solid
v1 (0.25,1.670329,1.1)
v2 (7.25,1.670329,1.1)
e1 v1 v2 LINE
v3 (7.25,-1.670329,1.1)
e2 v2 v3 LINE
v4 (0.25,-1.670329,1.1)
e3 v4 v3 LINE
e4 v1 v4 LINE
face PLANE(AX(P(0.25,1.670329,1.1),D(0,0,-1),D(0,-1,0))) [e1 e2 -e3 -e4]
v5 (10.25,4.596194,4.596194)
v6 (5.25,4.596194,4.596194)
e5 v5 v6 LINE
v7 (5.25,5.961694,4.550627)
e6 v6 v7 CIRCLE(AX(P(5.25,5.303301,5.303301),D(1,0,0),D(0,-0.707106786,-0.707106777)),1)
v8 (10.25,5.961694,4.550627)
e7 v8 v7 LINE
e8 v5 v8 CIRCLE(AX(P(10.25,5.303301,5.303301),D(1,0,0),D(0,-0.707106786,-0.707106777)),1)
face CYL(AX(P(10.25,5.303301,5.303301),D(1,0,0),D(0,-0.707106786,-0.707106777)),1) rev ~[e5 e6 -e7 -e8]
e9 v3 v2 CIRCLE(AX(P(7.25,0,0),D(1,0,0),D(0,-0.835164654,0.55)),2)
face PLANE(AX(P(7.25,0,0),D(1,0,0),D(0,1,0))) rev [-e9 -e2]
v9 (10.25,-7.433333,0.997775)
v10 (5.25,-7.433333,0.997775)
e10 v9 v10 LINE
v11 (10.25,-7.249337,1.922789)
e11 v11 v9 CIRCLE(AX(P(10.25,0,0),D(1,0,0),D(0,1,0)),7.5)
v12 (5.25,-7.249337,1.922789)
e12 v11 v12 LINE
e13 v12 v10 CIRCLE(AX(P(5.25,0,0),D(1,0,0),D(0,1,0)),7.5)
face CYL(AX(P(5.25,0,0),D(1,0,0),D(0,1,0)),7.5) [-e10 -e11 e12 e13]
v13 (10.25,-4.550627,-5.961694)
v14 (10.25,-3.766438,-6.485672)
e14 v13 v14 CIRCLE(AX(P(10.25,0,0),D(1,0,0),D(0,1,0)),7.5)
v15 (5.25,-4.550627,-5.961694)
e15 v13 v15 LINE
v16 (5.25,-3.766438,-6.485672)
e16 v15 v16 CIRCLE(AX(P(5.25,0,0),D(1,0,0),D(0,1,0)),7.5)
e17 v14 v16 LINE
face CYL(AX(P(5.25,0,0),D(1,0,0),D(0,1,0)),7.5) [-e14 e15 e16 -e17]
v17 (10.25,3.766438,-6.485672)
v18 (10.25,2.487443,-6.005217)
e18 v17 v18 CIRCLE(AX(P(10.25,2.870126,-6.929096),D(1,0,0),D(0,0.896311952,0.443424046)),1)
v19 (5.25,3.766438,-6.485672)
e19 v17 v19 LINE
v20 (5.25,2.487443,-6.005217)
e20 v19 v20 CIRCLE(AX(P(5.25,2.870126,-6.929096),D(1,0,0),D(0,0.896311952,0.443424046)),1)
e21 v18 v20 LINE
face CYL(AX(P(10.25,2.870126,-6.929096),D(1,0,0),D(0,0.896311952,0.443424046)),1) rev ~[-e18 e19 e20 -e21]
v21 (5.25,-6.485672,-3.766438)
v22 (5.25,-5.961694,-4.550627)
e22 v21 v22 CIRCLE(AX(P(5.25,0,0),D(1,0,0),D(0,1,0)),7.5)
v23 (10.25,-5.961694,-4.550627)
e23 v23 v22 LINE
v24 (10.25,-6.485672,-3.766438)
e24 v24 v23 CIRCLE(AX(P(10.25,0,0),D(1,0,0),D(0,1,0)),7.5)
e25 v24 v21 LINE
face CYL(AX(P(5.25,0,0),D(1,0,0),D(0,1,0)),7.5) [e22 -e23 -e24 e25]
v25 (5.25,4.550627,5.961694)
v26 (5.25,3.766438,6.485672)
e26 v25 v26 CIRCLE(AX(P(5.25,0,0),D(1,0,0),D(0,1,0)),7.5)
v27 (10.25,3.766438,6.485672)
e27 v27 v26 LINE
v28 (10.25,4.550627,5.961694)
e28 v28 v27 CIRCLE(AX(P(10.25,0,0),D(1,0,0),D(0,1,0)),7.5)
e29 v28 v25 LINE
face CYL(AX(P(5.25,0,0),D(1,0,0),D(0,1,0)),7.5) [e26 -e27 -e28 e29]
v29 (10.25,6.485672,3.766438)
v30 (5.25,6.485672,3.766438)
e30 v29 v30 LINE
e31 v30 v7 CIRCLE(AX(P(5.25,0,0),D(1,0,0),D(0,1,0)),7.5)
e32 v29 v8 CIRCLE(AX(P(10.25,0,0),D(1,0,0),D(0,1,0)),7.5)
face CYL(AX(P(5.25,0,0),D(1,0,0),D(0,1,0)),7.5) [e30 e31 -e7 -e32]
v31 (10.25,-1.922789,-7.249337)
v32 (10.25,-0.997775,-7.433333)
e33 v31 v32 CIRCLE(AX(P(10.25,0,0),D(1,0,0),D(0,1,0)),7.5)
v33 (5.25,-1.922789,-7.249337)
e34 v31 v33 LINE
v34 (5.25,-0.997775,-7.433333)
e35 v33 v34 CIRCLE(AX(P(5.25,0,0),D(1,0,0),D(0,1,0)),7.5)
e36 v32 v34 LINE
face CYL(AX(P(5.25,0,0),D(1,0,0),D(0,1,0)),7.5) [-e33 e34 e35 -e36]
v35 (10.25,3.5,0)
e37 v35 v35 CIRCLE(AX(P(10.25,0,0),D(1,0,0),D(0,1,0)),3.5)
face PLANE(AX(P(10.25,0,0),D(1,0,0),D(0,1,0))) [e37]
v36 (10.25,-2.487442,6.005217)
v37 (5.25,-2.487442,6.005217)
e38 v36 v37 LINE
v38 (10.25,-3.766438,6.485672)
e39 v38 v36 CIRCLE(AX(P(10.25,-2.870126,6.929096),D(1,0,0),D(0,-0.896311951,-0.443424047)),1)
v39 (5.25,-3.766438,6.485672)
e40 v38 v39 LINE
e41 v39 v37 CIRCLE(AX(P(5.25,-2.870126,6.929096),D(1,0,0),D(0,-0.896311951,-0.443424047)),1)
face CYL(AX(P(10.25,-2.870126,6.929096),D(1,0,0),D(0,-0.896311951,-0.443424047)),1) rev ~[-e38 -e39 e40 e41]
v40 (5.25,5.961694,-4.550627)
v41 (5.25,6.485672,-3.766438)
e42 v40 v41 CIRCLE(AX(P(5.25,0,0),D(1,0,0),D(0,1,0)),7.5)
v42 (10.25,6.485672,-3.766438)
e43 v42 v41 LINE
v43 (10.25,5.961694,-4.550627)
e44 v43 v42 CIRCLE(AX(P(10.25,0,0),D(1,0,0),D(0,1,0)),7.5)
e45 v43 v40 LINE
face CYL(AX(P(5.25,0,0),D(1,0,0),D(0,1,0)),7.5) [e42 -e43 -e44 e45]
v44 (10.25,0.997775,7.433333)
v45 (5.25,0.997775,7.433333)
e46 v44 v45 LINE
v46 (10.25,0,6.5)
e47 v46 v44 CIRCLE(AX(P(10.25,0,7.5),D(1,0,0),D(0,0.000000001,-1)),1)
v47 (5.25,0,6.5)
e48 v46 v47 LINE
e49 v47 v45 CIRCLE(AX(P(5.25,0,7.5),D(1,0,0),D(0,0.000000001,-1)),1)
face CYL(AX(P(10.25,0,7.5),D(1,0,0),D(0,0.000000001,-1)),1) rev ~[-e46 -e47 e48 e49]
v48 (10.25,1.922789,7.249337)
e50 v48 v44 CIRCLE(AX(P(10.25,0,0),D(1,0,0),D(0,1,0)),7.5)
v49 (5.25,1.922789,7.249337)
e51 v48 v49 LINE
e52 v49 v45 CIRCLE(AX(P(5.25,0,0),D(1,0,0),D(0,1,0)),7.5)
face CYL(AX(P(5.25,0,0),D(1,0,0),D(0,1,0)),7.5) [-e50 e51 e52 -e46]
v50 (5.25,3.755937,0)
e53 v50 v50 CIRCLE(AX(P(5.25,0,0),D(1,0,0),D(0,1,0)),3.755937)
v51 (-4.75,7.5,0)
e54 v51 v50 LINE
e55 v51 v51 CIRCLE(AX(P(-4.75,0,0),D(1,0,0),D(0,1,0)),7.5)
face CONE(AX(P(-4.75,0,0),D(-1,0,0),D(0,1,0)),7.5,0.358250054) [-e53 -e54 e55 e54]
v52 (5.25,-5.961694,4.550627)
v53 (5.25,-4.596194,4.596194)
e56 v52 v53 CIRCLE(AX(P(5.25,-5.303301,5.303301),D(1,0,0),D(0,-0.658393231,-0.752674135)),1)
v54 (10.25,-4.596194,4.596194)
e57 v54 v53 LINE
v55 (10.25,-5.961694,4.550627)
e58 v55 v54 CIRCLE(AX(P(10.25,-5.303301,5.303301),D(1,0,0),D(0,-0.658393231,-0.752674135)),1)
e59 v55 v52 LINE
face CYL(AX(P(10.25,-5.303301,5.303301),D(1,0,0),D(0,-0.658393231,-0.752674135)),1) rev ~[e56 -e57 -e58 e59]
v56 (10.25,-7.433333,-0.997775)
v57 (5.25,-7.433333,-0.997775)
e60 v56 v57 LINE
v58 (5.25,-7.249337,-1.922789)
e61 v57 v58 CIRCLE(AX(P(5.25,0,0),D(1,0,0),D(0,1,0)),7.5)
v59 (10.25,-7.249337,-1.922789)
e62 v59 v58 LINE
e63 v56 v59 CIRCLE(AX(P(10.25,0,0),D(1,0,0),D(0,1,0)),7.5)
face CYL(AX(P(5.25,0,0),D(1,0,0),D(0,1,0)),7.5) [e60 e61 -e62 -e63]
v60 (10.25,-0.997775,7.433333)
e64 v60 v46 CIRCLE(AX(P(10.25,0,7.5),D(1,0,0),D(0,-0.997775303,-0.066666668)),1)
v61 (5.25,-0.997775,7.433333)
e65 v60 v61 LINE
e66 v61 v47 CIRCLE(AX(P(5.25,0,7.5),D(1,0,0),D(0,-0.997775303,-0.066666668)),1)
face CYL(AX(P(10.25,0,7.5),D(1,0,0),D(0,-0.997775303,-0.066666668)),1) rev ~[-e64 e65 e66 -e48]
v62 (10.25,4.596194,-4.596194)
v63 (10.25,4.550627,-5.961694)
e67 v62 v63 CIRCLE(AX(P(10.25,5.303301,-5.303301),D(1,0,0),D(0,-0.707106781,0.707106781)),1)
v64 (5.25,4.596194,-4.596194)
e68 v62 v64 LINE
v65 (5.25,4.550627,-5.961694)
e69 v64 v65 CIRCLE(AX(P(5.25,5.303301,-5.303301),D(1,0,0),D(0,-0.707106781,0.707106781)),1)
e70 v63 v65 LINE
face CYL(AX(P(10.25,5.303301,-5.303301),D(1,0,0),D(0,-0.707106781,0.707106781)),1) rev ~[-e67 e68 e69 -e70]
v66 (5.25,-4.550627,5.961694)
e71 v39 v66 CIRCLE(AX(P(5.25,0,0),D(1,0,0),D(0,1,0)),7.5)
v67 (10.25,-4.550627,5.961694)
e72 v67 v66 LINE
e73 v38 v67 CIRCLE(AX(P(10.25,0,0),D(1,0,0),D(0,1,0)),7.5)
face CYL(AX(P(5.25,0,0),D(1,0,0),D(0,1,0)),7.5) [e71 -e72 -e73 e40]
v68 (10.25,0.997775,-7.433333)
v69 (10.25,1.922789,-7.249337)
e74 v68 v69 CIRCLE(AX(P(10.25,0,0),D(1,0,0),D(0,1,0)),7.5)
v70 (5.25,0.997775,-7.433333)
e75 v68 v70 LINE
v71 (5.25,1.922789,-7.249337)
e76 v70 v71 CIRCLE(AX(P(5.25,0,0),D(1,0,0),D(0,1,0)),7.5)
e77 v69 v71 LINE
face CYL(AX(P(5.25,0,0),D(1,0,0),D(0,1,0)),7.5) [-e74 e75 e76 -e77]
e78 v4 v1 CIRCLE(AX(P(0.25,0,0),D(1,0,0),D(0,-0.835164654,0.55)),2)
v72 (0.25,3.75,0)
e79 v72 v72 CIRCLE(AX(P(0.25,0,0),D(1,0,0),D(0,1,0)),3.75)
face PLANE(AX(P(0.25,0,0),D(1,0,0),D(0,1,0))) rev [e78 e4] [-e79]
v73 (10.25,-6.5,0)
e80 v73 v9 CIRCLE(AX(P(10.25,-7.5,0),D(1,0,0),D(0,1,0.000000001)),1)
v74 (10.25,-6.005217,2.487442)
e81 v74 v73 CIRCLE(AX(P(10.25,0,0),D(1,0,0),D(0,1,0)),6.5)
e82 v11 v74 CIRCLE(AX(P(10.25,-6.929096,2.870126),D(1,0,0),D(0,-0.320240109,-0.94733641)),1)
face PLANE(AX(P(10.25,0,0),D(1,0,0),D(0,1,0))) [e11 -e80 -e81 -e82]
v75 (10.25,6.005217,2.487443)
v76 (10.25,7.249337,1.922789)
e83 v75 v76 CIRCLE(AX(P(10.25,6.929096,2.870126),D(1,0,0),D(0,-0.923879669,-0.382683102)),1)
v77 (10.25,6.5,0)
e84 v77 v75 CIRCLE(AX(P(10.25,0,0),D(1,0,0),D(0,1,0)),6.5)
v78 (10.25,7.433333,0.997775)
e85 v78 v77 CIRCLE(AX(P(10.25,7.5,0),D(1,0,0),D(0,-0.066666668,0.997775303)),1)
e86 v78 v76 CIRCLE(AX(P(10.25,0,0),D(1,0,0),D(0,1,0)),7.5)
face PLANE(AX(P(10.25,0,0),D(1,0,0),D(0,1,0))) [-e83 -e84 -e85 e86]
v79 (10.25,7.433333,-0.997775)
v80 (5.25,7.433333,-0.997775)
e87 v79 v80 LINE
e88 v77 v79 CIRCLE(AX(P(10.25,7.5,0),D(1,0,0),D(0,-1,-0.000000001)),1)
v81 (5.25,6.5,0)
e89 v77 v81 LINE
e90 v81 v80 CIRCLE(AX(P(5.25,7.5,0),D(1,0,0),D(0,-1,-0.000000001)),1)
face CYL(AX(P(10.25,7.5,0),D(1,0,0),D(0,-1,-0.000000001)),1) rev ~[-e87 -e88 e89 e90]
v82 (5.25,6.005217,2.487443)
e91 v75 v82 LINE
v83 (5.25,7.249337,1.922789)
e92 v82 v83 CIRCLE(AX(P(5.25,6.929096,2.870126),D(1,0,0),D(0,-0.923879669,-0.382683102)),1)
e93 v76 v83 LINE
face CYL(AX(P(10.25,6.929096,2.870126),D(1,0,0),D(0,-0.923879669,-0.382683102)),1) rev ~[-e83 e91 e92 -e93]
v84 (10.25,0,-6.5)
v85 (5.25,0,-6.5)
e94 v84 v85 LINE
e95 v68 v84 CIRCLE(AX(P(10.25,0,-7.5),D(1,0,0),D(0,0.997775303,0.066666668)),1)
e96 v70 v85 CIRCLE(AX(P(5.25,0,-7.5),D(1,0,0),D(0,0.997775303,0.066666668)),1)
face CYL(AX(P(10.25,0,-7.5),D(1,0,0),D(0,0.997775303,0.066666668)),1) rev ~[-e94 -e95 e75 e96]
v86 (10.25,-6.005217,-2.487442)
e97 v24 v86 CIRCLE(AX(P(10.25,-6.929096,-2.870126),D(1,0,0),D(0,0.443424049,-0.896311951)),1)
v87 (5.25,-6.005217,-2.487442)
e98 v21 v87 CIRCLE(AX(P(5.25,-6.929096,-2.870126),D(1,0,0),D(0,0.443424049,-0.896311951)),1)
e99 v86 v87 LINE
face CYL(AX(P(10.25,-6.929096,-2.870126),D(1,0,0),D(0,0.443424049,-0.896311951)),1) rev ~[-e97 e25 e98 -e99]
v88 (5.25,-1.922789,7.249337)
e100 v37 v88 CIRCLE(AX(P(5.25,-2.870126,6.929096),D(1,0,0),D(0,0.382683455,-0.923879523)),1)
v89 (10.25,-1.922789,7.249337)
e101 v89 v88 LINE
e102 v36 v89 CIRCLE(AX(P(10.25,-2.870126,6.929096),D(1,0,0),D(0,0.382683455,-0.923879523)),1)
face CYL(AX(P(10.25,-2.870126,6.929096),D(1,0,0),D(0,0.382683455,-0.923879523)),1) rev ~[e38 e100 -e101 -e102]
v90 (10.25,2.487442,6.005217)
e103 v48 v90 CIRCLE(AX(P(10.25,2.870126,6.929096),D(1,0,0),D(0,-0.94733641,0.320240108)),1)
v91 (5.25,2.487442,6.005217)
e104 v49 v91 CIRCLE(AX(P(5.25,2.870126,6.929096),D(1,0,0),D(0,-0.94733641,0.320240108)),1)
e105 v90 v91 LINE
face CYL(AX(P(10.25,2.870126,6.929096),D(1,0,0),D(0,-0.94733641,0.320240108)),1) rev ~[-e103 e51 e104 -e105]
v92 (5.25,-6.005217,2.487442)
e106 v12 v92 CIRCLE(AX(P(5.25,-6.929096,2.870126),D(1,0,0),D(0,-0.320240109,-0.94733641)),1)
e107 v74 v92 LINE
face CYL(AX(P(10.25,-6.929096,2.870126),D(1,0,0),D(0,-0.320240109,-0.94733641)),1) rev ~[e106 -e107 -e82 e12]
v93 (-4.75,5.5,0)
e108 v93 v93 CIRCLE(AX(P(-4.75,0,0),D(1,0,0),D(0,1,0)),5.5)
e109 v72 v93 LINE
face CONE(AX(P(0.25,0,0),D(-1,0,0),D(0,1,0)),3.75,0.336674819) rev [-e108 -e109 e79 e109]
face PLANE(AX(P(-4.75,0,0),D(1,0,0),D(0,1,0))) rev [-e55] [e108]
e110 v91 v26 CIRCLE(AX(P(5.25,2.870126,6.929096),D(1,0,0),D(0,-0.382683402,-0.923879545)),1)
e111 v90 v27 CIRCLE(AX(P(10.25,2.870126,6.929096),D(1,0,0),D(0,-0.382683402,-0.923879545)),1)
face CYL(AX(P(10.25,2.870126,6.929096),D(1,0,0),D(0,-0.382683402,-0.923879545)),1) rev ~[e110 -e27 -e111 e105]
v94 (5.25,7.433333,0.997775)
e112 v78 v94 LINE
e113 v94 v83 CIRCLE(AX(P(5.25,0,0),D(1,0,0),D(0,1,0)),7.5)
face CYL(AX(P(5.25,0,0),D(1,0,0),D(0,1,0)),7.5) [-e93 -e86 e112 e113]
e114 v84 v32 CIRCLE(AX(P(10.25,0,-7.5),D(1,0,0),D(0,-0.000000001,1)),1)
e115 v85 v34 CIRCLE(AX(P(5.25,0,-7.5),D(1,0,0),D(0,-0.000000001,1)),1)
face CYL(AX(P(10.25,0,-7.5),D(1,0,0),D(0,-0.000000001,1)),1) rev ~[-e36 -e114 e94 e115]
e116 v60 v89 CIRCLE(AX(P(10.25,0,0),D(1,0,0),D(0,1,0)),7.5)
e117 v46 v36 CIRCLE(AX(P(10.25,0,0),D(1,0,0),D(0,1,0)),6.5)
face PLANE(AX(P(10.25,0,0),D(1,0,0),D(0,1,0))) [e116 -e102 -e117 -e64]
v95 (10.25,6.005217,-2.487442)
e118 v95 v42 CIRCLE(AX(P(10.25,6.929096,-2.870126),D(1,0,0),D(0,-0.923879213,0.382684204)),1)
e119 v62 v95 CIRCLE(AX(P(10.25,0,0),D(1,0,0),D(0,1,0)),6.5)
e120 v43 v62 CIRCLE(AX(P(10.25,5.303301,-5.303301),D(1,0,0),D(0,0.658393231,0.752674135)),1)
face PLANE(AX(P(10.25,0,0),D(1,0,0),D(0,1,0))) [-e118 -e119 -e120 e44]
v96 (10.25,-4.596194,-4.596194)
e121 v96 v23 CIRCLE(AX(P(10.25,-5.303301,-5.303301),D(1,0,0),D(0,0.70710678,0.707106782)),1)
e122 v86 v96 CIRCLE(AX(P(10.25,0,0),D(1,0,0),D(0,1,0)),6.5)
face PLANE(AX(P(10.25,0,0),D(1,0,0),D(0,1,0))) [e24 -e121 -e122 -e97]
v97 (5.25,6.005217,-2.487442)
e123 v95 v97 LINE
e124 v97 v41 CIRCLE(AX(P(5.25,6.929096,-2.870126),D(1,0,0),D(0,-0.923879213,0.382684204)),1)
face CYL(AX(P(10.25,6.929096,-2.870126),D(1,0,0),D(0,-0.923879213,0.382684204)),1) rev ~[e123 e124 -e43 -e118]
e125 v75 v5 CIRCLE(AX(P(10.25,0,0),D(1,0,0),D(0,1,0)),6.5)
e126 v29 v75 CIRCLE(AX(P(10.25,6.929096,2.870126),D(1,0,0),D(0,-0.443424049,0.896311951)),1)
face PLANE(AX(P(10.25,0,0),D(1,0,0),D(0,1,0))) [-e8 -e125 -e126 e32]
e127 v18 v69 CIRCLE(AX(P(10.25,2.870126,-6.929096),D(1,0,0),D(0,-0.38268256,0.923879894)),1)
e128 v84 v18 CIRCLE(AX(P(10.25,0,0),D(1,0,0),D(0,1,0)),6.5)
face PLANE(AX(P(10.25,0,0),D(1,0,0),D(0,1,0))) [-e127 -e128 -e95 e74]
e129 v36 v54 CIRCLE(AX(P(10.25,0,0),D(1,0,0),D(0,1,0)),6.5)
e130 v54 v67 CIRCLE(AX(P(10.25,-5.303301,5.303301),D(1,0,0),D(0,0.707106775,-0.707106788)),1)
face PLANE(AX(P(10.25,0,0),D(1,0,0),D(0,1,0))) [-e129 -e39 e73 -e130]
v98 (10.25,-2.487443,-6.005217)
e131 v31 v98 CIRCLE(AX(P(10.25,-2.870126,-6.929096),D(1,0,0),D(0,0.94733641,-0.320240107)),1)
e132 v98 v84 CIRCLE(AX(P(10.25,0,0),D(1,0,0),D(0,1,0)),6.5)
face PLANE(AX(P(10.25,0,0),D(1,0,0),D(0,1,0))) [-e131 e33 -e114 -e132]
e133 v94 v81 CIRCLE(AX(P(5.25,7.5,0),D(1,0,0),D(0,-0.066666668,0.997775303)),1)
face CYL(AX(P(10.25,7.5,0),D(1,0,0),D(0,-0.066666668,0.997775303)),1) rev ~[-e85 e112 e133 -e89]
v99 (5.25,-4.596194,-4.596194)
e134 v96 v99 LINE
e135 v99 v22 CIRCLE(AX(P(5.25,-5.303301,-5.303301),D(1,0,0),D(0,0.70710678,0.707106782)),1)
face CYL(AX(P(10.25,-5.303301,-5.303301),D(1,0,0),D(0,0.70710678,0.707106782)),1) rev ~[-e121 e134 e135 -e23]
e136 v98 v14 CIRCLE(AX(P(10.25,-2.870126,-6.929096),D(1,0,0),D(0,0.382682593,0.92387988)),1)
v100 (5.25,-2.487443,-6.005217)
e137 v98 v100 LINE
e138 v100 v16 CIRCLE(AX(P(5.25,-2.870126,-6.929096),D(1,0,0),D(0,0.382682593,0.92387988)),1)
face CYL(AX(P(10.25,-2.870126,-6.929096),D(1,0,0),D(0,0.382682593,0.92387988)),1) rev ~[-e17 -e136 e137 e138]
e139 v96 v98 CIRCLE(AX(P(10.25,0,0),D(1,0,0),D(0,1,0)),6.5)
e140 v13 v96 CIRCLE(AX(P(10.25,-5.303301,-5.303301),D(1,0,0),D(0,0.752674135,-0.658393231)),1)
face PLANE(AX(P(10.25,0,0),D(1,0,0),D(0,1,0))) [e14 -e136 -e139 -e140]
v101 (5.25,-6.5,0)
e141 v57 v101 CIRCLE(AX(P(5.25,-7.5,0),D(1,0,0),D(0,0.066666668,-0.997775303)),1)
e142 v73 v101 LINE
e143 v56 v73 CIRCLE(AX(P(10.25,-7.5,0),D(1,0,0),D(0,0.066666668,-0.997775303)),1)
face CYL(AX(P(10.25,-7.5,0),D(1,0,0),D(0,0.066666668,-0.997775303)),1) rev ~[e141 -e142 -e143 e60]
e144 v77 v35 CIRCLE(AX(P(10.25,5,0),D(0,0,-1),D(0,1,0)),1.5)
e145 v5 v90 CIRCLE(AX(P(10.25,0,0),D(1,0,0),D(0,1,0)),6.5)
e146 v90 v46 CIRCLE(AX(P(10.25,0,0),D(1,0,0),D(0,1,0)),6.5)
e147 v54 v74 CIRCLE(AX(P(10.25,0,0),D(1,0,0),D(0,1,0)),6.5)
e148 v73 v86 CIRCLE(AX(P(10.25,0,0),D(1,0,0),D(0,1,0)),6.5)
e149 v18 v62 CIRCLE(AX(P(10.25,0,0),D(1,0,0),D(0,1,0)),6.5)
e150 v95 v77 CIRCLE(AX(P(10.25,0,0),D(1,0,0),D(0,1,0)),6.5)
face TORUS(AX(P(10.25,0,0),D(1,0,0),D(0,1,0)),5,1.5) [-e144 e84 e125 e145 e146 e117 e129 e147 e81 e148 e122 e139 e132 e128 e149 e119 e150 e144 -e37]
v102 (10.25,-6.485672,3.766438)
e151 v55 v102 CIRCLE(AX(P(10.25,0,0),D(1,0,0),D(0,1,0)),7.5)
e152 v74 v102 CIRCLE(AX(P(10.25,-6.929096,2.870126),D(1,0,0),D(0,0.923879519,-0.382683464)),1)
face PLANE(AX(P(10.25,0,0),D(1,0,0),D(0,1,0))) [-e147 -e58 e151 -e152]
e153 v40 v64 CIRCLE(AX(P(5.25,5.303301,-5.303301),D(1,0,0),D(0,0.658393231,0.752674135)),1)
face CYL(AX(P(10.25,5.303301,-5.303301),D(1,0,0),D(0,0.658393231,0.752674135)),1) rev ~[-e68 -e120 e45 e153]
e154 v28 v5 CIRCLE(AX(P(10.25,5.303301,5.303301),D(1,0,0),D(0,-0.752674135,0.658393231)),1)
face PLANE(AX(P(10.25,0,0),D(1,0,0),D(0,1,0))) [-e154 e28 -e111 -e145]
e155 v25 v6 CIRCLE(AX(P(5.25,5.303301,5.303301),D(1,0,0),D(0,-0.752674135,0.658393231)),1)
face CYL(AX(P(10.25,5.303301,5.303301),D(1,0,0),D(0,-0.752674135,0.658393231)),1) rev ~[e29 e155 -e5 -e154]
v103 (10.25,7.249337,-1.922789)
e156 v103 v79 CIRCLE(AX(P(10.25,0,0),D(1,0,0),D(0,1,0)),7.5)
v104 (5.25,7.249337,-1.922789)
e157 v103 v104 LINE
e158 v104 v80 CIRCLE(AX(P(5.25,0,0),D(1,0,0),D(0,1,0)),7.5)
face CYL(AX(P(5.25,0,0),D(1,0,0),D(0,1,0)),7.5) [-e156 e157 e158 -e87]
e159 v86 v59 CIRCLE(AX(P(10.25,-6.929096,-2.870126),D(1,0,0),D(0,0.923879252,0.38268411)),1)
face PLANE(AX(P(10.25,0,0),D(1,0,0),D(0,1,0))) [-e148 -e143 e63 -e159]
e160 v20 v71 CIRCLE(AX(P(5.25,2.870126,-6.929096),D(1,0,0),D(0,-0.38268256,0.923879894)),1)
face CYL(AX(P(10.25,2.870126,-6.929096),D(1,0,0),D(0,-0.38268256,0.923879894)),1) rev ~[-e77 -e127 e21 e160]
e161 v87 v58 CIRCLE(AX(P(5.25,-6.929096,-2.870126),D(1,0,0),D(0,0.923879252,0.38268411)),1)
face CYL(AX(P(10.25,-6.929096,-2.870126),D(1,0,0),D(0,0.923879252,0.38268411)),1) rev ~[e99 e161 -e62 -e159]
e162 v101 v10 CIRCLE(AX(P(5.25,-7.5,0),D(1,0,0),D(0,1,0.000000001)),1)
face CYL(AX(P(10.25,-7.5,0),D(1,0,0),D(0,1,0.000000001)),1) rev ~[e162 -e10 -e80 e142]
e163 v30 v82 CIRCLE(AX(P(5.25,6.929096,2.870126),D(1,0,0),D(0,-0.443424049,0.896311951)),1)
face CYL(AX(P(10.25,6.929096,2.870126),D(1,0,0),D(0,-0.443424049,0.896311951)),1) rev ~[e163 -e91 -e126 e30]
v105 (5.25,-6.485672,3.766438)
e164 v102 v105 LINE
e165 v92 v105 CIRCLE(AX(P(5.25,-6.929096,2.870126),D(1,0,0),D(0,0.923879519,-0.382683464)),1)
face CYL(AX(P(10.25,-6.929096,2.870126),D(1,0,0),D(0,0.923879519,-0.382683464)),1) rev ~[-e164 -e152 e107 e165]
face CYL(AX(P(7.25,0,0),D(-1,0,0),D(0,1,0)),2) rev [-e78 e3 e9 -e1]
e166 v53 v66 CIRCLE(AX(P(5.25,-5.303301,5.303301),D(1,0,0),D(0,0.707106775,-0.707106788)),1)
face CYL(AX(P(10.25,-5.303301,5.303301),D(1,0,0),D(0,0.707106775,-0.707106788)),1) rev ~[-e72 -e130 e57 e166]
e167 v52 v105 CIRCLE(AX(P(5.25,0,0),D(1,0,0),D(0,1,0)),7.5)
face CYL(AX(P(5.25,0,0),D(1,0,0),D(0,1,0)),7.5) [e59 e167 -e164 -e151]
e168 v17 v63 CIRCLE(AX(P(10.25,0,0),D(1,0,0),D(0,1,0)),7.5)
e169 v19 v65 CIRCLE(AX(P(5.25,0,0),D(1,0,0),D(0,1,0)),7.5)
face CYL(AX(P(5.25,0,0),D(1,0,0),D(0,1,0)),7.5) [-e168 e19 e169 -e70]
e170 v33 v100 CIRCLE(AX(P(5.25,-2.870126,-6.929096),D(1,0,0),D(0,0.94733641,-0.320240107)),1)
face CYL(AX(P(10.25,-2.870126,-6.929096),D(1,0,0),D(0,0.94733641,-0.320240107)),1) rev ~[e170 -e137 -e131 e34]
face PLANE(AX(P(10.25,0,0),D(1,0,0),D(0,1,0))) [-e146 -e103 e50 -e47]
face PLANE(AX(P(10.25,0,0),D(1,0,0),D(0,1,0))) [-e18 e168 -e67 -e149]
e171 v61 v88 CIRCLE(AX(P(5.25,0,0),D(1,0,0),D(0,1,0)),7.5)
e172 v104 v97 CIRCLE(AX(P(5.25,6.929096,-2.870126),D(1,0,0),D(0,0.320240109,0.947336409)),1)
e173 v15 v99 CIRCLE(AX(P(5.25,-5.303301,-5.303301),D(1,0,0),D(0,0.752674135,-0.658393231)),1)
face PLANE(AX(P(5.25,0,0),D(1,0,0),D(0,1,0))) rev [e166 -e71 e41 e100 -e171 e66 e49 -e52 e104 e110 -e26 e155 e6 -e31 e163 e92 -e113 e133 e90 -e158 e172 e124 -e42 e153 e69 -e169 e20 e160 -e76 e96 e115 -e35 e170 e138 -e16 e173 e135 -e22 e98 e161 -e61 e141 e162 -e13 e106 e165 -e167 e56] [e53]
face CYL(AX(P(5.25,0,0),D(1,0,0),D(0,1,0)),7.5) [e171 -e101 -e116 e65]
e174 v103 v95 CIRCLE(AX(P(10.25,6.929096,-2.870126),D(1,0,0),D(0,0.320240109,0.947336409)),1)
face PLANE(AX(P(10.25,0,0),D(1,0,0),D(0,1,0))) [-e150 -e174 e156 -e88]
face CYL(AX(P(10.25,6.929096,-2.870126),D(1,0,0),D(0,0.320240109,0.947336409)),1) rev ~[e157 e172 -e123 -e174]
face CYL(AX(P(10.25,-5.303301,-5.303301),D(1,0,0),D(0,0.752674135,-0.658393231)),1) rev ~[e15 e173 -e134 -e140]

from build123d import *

# Parameters (mm, degrees)
BOSS_EXTRUDE1_DEPTH = 7
CUT_EXTRUDE1_DEPTH  = 5


with BuildPart() as part:
    # Sketch1 → Revolve1 (revolve)
    with BuildSketch(Plane.XY):
        with BuildLine():
            Line((-4.75, 5.5), (-4.75, 7.5))
            Line((-4.75, 7.5), (5.25, 3.755937126))
            Line((5.25, 3.755937126), (5.25, 7.5))
            Line((5.25, 7.5), (10.25, 7.5))
            Line((10.25, 7.5), (10.25, 6.5))
            ThreePointArc((10.25, 6.5), (11.75, 5), (10.25, 3.5))
            Line((10.25, 3.5), (10.25, 2.5))
            Line((10.25, 2.5), (10.25, 0))
            Line((10.25, 0), (7.25, 0))
            Line((7.25, 0), (7.25, 2))
            Line((7.25, 2), (0.25, 2))
            Line((0.25, 2), (0.25, 3.75))
            Line((0.25, 3.75), (-4.75, 5.5))
        make_face()
    revolve(axis=Axis((-16.375, 0, 0), (1, 0, 0)))

    # Sketch2 → Boss-Extrude1 (add)
    with BuildSketch(Plane.ZY.offset(-0.25)):
        with BuildLine():
            Line((1.1, 1.670329309), (1.1, -1.670329309))
            ThreePointArc((1.1, -1.670329309), (2, 0), (1.1, 1.670329309))
        make_face()
    extrude(amount=-BOSS_EXTRUDE1_DEPTH)

    # Sketch3 → Cut-Extrude1 (cut)
    with BuildSketch(Plane(origin=(10.25, 0, 0), x_dir=(0, 0, -1), z_dir=(1, 0, 0))):
        with BuildLine():
            ThreePointArc((-4.550626724, -5.96169409), (-4.303857188, -5.269948975), (-4.596194072, -4.596194084))
            ThreePointArc((-4.596194072, -4.596194084), (-5.269948967, -4.303857188), (-5.96169409, -4.550626724))
            ThreePointArc((-5.96169409, -4.550626724), (-5.303300859, -5.303300859), (-4.550626724, -5.96169409))
        make_face()
        with BuildLine():
            ThreePointArc((-1.922789333, -7.249336603), (-1.959523399, -6.515812848), (-2.487442279, -6.005216974))
            ThreePointArc((-2.487442279, -6.005216974), (-3.221783135, -5.992967721), (-3.766437695, -6.485672447))
            ThreePointArc((-3.766437695, -6.485672447), (-2.870125743, -6.929096494), (-1.922789333, -7.249336603))
        make_face()
        with BuildLine():
            ThreePointArc((0.997775303, -7.433333333), (0.683130051, -6.769703257), (0, -6.5))
            ThreePointArc((0, -6.5), (-0.683130051, -6.769703257), (-0.997775303, -7.433333333))
            ThreePointArc((-0.997775303, -7.433333333), (0, -7.5), (0.997775303, -7.433333333))
        make_face()
        with BuildLine():
            ThreePointArc((3.766437695, -6.485672447), (3.221782808, -5.992967599), (2.487441634, -6.005217241))
            ThreePointArc((2.487441634, -6.005217241), (1.959523255, -6.515813166), (1.922789333, -7.249336603))
            ThreePointArc((1.922789333, -7.249336603), (2.870125743, -6.929096494), (3.766437695, -6.485672447))
        make_face()
        with BuildLine():
            ThreePointArc((5.96169409, -4.550626724), (5.269948971, -4.303857188), (4.596194077, -4.596194078))
            ThreePointArc((4.596194077, -4.596194078), (4.303857188, -5.269948971), (4.550626724, -5.96169409))
            ThreePointArc((4.550626724, -5.96169409), (5.303300859, -5.303300859), (5.96169409, -4.550626724))
        make_face()
        with BuildLine():
            ThreePointArc((7.249336603, -1.922789333), (6.51581242, -1.959523594), (6.005216614, -2.487443148))
            ThreePointArc((6.005216614, -2.487443148), (5.992967887, -3.221783575), (6.485672447, -3.766437695))
            ThreePointArc((6.485672447, -3.766437695), (6.929096494, -2.870125743), (7.249336603, -1.922789333))
        make_face()
        with BuildLine():
            ThreePointArc((6.485672447, 3.766437695), (5.992967893, 3.221783593), (6.0052166, 2.487443183))
            ThreePointArc((6.0052166, 2.487443183), (6.515812403, 1.959523601), (7.249336603, 1.922789333))
            ThreePointArc((7.249336603, 1.922789333), (6.929096494, 2.870125743), (6.485672447, 3.766437695))
        make_face()
        with BuildLine():
            ThreePointArc((7.433333333, 0.997775303), (6.769703257, 0.683130051), (6.5, 0))
            ThreePointArc((6.5, 0), (6.769703257, -0.683130051), (7.433333333, -0.997775303))
            ThreePointArc((7.433333333, -0.997775303), (7.483314774, -0.5), (7.5, 0))
            ThreePointArc((7.5, 0), (7.483314774, 0.5), (7.433333333, 0.997775303))
        make_face()
        with BuildLine():
            ThreePointArc((4.550626724, 5.96169409), (4.303857188, 5.269948971), (4.596194078, 4.596194078))
            ThreePointArc((4.596194078, 4.596194078), (5.269948971, 4.303857188), (5.96169409, 4.550626724))
            ThreePointArc((5.96169409, 4.550626724), (5.303300859, 5.303300859), (4.550626724, 5.96169409))
        make_face()
        with BuildLine():
            ThreePointArc((1.922789333, 7.249336603), (1.959523233, 6.515813213), (2.487441538, 6.005217281))
            ThreePointArc((2.487441538, 6.005217281), (3.221782759, 5.99296758), (3.766437695, 6.485672447))
            ThreePointArc((3.766437695, 6.485672447), (2.870125743, 6.929096494), (1.922789333, 7.249336603))
        make_face()
        with BuildLine():
            ThreePointArc((-0.997775303, 7.433333333), (-0.683130051, 6.769703257), (0, 6.5))
            ThreePointArc((0, 6.5), (0.683130051, 6.769703257), (0.997775303, 7.433333333))
            ThreePointArc((0.997775303, 7.433333333), (0, 7.5), (-0.997775303, 7.433333333))
        make_face()
        with BuildLine():
            ThreePointArc((-6.005216971, -2.487442288), (-6.515812844, -1.959523401), (-7.249336603, -1.922789333))
            ThreePointArc((-7.249336603, -1.922789333), (-6.929096494, -2.870125743), (-6.485672447, -3.766437695))
            ThreePointArc((-6.485672447, -3.766437695), (-5.992967723, -3.221783139), (-6.005216971, -2.487442288))
        make_face()
        with BuildLine():
            ThreePointArc((-7.433333333, 0.997775303), (-7.5, 0), (-7.433333333, -0.997775303))
            ThreePointArc((-7.433333333, -0.997775303), (-6.769703257, -0.683130051), (-6.5, 0))
            ThreePointArc((-6.5, 0), (-6.769703257, 0.683130051), (-7.433333333, 0.997775303))
        make_face()
        with BuildLine():
            ThreePointArc((-7.249336603, 1.922789333), (-6.515812818, 1.959523413), (-6.005216949, 2.487442341))
            ThreePointArc((-6.005216949, 2.487442341), (-5.992967733, 3.221783166), (-6.485672447, 3.766437695))
            ThreePointArc((-6.485672447, 3.766437695), (-6.929096494, 2.870125743), (-7.249336603, 1.922789333))
        make_face()
        with BuildLine():
            ThreePointArc((-5.96169409, 4.550626724), (-5.269948974, 4.303857188), (-4.596194082, 4.596194074))
            ThreePointArc((-4.596194082, 4.596194074), (-4.303857188, 5.269948968), (-4.550626724, 5.96169409))
            ThreePointArc((-4.550626724, 5.96169409), (-5.303300859, 5.303300859), (-5.96169409, 4.550626724))
        make_face()
        with BuildLine():
            ThreePointArc((-3.766437695, 6.485672447), (-3.221783319, 5.992967791), (-2.487442643, 6.005216823))
            ThreePointArc((-2.487442643, 6.005216823), (-1.959523481, 6.515812669), (-1.922789333, 7.249336603))
            ThreePointArc((-1.922789333, 7.249336603), (-2.870125743, 6.929096494), (-3.766437695, 6.485672447))
        make_face()
    extrude(amount=-CUT_EXTRUDE1_DEPTH, mode=Mode.SUBTRACT)


solid = part.part
